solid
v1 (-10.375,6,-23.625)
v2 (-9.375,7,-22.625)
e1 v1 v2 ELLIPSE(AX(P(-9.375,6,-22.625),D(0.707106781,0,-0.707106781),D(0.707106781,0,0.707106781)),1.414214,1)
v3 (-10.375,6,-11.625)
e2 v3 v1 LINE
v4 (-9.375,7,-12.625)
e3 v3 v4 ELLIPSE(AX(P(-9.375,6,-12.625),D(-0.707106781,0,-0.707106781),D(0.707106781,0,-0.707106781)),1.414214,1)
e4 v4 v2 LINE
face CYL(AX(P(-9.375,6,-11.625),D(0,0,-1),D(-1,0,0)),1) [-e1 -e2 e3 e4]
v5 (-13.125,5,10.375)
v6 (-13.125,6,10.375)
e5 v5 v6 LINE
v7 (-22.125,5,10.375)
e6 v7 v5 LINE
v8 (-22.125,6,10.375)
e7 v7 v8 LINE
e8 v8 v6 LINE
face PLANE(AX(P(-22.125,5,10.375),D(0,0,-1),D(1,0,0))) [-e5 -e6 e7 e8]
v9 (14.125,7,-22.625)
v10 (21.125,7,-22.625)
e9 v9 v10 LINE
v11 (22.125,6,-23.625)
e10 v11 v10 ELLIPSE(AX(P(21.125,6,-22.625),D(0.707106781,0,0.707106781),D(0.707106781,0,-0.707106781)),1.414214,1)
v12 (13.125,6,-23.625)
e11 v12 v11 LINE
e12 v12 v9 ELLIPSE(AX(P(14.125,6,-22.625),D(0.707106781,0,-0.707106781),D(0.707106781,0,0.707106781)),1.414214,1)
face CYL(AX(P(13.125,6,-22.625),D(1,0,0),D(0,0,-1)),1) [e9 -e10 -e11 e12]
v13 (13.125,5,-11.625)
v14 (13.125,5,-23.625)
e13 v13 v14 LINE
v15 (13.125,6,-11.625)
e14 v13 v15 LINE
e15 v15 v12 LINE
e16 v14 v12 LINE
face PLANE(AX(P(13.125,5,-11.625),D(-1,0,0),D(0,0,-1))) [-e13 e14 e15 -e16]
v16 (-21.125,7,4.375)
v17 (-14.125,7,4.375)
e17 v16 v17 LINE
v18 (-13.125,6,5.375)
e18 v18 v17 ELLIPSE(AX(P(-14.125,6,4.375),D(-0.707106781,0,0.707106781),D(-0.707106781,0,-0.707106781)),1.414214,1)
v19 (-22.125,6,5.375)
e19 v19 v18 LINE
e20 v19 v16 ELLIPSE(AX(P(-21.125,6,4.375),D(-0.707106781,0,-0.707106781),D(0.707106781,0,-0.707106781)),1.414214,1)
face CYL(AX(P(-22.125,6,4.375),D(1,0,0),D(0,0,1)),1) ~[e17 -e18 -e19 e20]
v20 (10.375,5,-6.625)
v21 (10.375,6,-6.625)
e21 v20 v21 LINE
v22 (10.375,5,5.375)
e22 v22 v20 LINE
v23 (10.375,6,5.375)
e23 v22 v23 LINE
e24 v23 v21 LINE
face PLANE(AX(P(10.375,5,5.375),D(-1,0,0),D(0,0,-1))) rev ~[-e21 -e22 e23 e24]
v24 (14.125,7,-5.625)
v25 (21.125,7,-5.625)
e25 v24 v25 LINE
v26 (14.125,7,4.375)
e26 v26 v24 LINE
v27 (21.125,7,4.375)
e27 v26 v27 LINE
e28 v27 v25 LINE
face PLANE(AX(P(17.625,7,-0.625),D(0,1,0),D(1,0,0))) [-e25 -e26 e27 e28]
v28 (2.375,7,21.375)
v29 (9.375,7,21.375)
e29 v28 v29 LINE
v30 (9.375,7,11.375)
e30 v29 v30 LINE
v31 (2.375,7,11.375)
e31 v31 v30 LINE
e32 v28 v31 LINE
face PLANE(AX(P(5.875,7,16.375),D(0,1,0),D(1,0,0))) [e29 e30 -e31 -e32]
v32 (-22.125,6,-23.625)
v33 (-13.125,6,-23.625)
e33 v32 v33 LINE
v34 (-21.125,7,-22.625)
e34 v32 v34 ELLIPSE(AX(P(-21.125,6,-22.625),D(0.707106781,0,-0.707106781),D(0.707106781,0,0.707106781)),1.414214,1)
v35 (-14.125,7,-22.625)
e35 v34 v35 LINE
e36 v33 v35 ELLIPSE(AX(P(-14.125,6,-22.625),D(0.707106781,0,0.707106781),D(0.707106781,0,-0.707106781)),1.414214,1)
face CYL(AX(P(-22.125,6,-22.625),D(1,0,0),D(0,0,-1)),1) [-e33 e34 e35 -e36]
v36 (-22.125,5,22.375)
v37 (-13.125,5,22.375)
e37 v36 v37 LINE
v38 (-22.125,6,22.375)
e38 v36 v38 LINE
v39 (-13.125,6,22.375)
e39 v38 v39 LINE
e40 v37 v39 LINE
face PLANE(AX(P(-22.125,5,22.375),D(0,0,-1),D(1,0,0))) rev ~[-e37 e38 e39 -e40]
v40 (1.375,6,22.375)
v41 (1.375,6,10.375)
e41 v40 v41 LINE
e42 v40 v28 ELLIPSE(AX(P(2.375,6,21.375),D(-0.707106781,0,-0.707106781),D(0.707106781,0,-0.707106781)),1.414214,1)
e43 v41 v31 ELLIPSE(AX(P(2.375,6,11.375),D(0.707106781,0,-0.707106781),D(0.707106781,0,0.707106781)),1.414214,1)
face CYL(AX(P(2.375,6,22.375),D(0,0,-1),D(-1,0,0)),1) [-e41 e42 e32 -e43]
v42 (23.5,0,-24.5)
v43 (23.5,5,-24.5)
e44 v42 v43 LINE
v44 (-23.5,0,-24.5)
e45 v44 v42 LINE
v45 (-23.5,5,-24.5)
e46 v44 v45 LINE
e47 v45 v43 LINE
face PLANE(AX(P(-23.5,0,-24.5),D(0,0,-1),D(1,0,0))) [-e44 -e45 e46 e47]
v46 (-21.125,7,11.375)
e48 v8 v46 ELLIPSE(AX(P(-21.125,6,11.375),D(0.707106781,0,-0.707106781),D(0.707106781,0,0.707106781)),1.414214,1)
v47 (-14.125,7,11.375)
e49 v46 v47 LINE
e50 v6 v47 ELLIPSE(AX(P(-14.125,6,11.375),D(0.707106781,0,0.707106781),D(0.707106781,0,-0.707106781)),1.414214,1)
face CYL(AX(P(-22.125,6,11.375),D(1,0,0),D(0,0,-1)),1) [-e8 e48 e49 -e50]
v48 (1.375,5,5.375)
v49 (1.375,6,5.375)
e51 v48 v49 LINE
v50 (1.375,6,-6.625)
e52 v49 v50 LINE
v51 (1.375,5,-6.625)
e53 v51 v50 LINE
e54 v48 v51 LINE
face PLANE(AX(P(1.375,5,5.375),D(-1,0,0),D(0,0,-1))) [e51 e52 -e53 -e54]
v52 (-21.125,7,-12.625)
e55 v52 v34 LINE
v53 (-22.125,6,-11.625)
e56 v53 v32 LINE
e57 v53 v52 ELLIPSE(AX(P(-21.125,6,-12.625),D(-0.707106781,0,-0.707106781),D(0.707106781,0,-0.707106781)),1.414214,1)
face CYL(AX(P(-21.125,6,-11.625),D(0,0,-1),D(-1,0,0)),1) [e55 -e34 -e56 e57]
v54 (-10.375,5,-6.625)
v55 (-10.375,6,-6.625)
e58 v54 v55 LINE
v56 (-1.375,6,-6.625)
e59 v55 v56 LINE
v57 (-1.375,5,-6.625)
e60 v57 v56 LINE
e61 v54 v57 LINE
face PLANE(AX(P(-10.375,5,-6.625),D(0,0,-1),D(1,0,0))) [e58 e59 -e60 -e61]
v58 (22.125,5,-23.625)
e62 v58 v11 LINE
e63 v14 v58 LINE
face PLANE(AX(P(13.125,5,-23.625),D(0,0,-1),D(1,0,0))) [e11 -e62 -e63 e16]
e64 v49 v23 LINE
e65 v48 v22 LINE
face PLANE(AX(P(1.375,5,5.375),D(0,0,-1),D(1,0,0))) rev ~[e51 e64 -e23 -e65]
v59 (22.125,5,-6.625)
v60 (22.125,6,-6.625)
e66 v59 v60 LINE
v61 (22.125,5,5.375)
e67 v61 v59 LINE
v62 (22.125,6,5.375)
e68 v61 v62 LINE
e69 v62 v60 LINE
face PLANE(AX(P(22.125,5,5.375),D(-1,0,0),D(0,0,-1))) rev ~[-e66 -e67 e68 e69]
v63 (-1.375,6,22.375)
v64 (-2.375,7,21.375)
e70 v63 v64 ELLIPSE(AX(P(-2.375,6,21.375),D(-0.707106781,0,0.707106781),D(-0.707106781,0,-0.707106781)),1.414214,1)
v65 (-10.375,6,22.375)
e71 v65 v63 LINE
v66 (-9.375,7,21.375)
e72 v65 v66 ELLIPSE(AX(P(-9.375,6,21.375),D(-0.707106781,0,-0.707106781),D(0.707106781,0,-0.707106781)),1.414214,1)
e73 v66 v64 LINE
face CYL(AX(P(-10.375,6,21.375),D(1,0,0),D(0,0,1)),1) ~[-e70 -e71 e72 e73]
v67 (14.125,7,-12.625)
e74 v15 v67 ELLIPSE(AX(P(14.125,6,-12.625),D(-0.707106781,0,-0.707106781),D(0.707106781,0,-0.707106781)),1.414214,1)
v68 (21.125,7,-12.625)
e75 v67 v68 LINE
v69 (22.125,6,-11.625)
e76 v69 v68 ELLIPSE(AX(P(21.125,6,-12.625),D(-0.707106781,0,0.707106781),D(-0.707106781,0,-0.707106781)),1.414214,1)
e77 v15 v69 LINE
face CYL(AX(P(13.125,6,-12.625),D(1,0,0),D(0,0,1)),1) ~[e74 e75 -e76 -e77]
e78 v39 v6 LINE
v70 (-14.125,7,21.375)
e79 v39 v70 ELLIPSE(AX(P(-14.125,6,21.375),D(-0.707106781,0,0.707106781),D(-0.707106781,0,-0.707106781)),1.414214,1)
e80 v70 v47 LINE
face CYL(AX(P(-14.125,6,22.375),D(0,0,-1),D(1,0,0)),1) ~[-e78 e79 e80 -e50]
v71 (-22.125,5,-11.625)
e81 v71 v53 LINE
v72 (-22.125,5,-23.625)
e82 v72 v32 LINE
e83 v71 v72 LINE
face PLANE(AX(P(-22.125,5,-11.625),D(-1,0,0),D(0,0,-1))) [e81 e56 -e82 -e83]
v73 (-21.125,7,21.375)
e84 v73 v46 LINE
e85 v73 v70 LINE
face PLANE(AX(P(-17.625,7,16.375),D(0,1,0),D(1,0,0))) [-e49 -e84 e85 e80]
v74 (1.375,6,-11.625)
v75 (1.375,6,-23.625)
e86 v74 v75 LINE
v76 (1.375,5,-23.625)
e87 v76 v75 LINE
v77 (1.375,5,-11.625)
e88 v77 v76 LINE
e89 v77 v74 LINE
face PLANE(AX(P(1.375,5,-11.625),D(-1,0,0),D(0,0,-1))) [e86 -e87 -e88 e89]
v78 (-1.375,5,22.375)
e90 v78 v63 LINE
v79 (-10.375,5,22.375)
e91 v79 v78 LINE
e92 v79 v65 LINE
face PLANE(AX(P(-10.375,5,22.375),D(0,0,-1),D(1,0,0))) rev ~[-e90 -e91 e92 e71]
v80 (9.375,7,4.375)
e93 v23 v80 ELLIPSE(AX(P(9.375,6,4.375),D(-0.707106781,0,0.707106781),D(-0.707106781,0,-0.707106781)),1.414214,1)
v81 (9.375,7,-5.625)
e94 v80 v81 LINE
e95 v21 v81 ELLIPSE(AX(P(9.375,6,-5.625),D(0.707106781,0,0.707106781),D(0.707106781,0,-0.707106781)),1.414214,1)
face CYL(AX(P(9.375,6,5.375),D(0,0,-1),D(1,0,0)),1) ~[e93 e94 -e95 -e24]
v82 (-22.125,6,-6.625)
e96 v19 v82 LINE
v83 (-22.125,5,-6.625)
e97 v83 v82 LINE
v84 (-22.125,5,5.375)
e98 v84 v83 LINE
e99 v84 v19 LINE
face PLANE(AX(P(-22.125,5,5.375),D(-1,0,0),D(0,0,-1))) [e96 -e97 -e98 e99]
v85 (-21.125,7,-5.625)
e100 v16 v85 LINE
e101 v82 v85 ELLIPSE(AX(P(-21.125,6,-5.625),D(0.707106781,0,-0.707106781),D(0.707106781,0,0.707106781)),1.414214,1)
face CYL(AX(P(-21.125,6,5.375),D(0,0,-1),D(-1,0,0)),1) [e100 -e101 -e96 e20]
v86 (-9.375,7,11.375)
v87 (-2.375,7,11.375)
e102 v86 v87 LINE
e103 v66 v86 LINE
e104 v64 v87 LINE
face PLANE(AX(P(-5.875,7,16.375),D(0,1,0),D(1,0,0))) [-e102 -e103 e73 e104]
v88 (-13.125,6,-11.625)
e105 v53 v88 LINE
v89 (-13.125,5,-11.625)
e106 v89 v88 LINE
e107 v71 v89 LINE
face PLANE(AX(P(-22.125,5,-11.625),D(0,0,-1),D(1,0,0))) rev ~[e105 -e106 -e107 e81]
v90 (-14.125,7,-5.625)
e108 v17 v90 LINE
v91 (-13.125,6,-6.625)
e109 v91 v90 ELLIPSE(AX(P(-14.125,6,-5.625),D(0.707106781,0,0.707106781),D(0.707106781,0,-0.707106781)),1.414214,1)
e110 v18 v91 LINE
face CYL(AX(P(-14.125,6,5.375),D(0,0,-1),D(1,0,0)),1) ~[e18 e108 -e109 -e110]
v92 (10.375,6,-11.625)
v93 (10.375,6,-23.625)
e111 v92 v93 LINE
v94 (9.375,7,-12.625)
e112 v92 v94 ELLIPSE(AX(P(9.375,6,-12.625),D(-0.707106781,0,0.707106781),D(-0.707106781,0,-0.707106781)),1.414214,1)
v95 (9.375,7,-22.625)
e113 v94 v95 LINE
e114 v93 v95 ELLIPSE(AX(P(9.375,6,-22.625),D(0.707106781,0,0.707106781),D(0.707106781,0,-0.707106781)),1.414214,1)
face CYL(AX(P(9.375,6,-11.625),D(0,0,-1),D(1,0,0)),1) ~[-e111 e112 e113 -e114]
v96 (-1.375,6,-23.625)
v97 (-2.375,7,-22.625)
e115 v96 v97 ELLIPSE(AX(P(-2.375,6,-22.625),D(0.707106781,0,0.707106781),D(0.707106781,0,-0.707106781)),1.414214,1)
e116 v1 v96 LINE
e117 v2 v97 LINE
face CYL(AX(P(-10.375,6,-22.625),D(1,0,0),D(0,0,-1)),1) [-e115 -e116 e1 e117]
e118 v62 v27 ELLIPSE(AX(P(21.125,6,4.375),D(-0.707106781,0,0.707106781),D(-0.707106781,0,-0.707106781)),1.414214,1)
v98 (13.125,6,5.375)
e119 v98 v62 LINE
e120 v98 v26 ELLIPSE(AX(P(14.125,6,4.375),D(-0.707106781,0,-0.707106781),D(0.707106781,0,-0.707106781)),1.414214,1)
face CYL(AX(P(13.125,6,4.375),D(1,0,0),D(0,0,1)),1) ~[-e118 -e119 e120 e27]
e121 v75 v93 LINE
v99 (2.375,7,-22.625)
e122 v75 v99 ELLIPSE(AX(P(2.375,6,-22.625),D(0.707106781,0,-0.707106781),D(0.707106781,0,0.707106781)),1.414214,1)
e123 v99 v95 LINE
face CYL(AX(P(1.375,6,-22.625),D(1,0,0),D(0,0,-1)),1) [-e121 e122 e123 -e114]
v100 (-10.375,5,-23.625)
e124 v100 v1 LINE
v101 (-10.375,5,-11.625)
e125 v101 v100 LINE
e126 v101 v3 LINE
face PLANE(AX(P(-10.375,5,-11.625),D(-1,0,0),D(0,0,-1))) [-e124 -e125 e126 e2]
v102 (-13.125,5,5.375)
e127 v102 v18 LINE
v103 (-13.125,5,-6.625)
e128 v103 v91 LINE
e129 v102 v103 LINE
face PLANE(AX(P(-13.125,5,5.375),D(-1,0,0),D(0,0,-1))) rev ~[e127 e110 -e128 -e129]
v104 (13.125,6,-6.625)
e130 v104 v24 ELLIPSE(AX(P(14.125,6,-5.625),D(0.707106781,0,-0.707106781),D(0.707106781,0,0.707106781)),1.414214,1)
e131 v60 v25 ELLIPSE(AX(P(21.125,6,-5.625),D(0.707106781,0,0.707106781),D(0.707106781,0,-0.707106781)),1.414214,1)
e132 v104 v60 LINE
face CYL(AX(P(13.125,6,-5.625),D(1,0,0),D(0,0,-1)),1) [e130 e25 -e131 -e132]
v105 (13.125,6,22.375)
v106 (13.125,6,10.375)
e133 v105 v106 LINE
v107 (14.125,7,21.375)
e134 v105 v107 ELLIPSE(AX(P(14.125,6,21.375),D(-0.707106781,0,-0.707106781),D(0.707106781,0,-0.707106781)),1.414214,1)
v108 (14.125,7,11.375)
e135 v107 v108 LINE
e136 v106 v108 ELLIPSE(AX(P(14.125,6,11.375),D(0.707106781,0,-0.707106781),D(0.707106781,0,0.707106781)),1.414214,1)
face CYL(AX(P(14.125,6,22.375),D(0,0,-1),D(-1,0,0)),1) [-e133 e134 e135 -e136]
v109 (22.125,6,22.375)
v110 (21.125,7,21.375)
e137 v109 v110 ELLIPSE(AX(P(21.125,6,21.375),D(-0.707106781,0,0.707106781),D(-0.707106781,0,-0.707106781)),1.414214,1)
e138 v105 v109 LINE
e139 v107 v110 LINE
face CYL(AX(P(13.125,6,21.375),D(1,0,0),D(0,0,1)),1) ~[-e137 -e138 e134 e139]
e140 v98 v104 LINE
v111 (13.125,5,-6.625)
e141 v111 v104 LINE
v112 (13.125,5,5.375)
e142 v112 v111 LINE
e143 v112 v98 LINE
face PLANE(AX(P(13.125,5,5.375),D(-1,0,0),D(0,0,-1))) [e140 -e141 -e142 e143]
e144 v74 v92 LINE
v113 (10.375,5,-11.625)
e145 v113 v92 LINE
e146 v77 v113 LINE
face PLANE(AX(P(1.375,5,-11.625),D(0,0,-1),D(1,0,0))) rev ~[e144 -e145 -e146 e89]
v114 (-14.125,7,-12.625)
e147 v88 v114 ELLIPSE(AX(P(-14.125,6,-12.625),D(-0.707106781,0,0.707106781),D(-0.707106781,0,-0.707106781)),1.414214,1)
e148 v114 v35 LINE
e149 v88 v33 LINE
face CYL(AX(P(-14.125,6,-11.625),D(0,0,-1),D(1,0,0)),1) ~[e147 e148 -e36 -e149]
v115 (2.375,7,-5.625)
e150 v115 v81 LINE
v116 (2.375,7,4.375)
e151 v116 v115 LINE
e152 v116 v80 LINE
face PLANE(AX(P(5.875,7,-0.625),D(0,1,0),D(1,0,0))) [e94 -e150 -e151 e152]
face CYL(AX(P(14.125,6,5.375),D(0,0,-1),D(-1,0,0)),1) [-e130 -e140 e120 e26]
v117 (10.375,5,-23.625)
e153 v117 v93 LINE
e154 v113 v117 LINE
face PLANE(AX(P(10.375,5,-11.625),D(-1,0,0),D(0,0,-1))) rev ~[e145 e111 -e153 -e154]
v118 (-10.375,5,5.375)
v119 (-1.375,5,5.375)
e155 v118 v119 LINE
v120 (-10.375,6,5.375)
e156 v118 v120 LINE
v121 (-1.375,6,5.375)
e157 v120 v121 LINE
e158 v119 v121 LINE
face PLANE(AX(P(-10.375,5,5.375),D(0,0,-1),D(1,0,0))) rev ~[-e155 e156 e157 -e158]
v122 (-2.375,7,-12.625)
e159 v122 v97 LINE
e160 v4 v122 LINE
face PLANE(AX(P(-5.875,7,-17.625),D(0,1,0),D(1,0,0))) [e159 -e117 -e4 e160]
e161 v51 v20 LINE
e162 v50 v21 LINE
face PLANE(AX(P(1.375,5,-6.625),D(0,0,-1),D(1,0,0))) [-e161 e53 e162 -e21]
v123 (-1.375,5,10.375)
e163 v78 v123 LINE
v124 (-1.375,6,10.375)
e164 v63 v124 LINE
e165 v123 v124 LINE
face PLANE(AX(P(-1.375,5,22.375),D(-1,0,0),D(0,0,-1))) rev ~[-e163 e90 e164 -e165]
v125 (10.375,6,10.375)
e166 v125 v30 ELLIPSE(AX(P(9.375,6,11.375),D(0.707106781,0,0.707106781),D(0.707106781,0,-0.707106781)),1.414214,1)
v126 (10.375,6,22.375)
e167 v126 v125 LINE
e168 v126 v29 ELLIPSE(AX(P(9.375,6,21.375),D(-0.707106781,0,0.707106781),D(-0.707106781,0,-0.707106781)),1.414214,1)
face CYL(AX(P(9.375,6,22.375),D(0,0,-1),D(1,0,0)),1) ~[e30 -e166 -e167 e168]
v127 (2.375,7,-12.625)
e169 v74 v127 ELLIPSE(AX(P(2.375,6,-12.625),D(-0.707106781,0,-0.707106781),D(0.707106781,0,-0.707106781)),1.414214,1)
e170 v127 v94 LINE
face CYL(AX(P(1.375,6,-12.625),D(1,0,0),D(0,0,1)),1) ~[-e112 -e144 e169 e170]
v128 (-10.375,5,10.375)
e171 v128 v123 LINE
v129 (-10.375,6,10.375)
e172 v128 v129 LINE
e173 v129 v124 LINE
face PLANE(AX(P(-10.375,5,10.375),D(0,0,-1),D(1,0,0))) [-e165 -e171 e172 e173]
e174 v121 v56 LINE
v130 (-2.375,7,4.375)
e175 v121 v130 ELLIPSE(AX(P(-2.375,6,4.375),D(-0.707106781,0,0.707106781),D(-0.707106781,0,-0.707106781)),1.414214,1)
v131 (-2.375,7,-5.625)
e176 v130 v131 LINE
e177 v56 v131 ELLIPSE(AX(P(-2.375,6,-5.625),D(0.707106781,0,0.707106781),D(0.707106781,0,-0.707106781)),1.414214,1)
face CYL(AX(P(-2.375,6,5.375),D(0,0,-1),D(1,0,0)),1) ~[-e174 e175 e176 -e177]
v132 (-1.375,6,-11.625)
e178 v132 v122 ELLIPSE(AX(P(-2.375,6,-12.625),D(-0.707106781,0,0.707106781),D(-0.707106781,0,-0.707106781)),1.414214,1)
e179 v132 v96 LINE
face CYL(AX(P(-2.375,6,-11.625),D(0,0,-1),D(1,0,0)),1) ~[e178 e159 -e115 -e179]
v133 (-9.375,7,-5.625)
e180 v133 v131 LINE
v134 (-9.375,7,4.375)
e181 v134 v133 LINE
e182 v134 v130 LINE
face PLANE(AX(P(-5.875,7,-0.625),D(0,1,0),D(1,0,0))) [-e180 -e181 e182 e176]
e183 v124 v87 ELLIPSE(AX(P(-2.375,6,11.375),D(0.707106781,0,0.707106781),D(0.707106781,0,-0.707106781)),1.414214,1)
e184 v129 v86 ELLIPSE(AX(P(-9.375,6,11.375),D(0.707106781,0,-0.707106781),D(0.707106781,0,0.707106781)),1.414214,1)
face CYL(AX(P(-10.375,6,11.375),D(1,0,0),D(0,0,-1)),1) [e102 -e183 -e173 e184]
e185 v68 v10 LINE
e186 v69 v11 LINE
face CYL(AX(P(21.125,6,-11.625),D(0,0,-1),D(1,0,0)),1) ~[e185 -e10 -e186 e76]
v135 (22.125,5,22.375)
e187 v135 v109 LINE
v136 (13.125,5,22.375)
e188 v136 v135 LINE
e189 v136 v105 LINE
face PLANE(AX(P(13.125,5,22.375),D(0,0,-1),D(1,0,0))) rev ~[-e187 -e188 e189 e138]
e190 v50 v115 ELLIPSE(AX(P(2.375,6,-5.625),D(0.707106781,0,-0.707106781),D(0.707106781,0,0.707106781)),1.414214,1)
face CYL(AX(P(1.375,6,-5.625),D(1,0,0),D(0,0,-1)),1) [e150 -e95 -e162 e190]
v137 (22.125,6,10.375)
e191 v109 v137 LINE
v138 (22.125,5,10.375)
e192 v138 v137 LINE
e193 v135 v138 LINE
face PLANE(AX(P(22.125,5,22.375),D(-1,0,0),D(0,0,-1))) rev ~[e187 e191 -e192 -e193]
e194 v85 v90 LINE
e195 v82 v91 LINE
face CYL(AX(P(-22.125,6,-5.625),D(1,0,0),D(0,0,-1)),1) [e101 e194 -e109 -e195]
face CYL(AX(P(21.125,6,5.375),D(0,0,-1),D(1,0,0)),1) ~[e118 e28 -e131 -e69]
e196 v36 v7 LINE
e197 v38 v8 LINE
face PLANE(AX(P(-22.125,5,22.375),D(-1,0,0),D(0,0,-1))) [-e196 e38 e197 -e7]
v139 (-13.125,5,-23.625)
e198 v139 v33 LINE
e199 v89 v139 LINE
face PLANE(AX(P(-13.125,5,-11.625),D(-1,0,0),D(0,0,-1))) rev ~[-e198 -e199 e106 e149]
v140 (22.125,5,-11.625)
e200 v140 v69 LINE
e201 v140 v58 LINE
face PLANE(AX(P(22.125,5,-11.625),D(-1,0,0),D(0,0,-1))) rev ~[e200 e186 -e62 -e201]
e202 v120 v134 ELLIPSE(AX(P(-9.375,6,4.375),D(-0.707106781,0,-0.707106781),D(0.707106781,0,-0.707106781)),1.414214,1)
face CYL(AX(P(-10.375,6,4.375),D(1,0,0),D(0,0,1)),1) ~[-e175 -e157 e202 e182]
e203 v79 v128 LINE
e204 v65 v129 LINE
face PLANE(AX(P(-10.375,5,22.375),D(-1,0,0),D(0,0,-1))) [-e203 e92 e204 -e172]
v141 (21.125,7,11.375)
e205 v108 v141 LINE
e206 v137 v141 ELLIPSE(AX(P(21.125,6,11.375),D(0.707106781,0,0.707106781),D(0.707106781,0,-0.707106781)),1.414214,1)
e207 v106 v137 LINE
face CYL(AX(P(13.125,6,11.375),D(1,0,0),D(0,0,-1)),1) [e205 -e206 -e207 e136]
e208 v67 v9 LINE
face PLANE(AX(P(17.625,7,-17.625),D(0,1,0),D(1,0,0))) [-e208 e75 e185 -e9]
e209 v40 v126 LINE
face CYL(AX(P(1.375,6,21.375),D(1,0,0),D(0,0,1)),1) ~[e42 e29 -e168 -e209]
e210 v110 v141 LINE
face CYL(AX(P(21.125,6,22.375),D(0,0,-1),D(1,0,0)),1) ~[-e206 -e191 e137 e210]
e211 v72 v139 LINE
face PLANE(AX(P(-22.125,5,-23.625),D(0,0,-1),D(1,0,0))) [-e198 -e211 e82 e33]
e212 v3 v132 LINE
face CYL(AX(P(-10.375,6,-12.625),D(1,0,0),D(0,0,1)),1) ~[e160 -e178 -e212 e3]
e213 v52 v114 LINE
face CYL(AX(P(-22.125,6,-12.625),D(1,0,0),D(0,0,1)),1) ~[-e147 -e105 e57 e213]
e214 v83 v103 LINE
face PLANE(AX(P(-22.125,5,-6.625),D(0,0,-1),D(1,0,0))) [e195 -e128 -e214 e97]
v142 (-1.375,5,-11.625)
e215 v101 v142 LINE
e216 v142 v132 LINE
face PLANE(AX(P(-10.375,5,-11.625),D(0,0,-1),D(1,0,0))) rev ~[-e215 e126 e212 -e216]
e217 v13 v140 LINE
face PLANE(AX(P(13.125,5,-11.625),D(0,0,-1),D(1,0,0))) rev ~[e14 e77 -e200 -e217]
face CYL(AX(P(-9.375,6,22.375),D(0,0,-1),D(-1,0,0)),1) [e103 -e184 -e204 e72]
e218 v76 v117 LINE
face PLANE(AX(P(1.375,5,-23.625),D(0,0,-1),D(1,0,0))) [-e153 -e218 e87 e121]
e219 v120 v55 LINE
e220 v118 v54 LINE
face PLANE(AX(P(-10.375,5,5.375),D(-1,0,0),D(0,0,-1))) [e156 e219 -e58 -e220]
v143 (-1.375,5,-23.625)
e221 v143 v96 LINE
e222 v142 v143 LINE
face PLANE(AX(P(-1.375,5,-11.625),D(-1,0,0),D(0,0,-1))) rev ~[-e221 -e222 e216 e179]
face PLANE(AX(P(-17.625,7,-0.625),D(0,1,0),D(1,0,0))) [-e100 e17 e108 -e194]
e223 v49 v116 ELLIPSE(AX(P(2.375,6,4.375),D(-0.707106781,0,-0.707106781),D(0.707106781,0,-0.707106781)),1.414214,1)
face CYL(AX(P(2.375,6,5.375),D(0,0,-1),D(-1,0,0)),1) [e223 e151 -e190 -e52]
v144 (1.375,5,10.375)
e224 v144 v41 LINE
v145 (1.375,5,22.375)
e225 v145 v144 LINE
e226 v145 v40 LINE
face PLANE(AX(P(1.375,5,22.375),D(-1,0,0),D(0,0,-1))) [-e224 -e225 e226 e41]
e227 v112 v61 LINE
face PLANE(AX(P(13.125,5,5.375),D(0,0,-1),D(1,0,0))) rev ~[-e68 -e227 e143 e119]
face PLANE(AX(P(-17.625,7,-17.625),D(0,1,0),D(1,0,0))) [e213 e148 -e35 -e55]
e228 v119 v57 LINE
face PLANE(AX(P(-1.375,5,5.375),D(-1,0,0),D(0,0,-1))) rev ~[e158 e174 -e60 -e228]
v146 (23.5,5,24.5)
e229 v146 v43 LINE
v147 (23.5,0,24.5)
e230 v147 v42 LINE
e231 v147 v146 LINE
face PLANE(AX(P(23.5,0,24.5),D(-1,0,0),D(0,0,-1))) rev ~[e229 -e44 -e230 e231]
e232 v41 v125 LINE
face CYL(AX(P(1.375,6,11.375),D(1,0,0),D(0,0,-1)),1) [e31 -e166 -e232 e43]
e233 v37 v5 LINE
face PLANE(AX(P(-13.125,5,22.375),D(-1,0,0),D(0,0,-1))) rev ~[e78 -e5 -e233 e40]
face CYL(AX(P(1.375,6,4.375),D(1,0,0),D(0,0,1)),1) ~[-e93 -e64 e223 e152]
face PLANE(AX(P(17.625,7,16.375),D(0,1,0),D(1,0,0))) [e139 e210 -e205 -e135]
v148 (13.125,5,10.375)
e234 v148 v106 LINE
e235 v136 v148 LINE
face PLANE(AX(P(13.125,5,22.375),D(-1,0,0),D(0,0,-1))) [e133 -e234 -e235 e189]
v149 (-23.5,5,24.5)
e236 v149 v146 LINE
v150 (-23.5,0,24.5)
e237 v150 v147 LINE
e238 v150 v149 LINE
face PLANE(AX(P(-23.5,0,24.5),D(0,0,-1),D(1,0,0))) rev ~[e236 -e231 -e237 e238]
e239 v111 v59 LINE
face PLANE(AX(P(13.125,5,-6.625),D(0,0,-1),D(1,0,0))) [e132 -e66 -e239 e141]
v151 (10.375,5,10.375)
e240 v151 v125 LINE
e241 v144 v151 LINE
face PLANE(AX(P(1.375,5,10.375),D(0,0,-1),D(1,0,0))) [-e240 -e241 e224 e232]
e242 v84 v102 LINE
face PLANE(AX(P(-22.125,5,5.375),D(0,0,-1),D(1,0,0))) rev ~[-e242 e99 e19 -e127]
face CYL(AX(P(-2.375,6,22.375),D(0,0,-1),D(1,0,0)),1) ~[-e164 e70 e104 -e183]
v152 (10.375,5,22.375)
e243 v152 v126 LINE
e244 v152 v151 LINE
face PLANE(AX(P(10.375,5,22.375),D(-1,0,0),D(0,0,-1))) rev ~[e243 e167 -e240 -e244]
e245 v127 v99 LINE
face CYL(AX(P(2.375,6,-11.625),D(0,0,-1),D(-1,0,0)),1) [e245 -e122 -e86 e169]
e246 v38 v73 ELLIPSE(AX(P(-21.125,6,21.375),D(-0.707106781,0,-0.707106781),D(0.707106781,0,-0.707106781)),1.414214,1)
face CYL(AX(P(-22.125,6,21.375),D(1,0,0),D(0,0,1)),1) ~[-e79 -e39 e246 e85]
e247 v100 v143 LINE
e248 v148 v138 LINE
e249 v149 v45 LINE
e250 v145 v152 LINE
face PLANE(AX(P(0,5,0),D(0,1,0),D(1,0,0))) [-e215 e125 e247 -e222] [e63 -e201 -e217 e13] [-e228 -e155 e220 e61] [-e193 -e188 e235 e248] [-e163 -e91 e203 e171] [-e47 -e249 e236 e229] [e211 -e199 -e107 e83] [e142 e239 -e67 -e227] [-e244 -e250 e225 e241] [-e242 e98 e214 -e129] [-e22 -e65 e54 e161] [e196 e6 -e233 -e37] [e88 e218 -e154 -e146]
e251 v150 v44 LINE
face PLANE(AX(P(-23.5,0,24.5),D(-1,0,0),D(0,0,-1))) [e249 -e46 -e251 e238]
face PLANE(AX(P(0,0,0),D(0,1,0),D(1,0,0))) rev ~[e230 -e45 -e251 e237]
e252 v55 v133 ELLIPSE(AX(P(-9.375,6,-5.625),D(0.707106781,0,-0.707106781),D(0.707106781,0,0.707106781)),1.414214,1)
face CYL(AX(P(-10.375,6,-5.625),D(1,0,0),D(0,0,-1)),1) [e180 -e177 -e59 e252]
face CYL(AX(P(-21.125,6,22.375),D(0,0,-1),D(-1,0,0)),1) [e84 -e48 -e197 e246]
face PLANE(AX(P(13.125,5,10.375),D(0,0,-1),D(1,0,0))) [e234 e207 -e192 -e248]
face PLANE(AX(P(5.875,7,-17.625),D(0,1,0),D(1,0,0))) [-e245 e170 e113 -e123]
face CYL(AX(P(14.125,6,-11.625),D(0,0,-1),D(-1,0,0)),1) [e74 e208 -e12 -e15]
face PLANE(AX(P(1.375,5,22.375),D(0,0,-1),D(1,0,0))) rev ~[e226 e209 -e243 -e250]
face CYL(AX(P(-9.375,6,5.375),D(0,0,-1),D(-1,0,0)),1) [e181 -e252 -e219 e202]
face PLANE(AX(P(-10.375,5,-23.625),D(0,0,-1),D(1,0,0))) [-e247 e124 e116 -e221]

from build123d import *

# Parameters (mm, degrees)
SKETCH1_W              = 47
SKETCH1_H              = 49
BOSS_EXTRUDE1_DEPTH    = 5
SKETCH2_W              = 9
SKETCH2_H              = 12
BOSS_EXTRUDE2_DEPTH    = 2
FILLET1_R              = 1
LPATTERN1_COUNT        = 4
LPATTERN1_PITCH        = 11.75
LPATTERN1_COUNT_DIR2   = 3
LPATTERN1_PITCH_DIR2   = 17
FILLET1_OF_LPATTERN1_R = 1


with BuildPart() as part:
    # Sketch1 → Boss-Extrude1 (new body)
    with BuildSketch(Plane(origin=(0, 0, 0), x_dir=(1, 0, 0), z_dir=(0, 1, 0))):
        Rectangle(SKETCH1_W, SKETCH1_H)
    extrude(amount=BOSS_EXTRUDE1_DEPTH)

    # Sketch2 → Boss-Extrude2 (add)
    with BuildSketch(Plane(origin=(0, 5, 0), x_dir=(1, 0, 0), z_dir=(0, 1, 0))):
        with Locations((-17.625, 17.625)):
            Rectangle(SKETCH2_W, SKETCH2_H)
    boss_extrude2 = extrude(amount=BOSS_EXTRUDE2_DEPTH)

    # Fillet1
    fillet1_edges = [part.edges().sort_by_distance(p)[0] for p in [
        (-13.125, 7, -17.625),
        (-17.625, 7, -23.625),
        (-17.625, 7, -11.625),
        (-22.125, 7, -17.625),
    ]]
    fillet(fillet1_edges, radius=FILLET1_R)

    # LPattern1: Boss-Extrude2 4 × 3
    with Locations(*[(i * LPATTERN1_PITCH, 0, j * LPATTERN1_PITCH_DIR2) for i in range(LPATTERN1_COUNT) for j in range(LPATTERN1_COUNT_DIR2) if (i, j) != (0, 0)]):
        add(boss_extrude2)

    # Fillet1 of LPattern1
    fillet1_of_lpattern1_edges = [part.edges().sort_by_distance(p)[0] for p in [
        (-13.125, 7, -0.625),
        (-17.625, 7, -6.625),
        (-17.625, 7, 5.375),
        (-22.125, 7, -0.625),
        (-13.125, 7, 16.375),
        (-17.625, 7, 10.375),
        (-17.625, 7, 22.375),
        (-22.125, 7, 16.375),
        (-1.375, 7, -17.625),
        (-5.875, 7, -23.625),
        (-5.875, 7, -11.625),
        (-10.375, 7, -17.625),
        (-1.375, 7, -0.625),
        (-5.875, 7, -6.625),
        (-5.875, 7, 5.375),
        (-10.375, 7, -0.625),
        (-1.375, 7, 16.375),
        (-5.875, 7, 10.375),
        (-5.875, 7, 22.375),
        (-10.375, 7, 16.375),
        (10.375, 7, -17.625),
        (5.875, 7, -23.625),
        (5.875, 7, -11.625),
        (1.375, 7, -17.625),
        (10.375, 7, -0.625),
        (5.875, 7, -6.625),
        (5.875, 7, 5.375),
        (1.375, 7, -0.625),
        (10.375, 7, 16.375),
        (5.875, 7, 10.375),
        (5.875, 7, 22.375),
        (1.375, 7, 16.375),
        (22.125, 7, -17.625),
        (17.625, 7, -23.625),
        (17.625, 7, -11.625),
        (13.125, 7, -17.625),
        (22.125, 7, -0.625),
        (17.625, 7, -6.625),
        (17.625, 7, 5.375),
        (13.125, 7, -0.625),
        (22.125, 7, 16.375),
        (17.625, 7, 10.375),
        (17.625, 7, 22.375),
        (13.125, 7, 16.375),
    ]]
    fillet(fillet1_of_lpattern1_edges, radius=FILLET1_OF_LPATTERN1_R)


solid = part.part
